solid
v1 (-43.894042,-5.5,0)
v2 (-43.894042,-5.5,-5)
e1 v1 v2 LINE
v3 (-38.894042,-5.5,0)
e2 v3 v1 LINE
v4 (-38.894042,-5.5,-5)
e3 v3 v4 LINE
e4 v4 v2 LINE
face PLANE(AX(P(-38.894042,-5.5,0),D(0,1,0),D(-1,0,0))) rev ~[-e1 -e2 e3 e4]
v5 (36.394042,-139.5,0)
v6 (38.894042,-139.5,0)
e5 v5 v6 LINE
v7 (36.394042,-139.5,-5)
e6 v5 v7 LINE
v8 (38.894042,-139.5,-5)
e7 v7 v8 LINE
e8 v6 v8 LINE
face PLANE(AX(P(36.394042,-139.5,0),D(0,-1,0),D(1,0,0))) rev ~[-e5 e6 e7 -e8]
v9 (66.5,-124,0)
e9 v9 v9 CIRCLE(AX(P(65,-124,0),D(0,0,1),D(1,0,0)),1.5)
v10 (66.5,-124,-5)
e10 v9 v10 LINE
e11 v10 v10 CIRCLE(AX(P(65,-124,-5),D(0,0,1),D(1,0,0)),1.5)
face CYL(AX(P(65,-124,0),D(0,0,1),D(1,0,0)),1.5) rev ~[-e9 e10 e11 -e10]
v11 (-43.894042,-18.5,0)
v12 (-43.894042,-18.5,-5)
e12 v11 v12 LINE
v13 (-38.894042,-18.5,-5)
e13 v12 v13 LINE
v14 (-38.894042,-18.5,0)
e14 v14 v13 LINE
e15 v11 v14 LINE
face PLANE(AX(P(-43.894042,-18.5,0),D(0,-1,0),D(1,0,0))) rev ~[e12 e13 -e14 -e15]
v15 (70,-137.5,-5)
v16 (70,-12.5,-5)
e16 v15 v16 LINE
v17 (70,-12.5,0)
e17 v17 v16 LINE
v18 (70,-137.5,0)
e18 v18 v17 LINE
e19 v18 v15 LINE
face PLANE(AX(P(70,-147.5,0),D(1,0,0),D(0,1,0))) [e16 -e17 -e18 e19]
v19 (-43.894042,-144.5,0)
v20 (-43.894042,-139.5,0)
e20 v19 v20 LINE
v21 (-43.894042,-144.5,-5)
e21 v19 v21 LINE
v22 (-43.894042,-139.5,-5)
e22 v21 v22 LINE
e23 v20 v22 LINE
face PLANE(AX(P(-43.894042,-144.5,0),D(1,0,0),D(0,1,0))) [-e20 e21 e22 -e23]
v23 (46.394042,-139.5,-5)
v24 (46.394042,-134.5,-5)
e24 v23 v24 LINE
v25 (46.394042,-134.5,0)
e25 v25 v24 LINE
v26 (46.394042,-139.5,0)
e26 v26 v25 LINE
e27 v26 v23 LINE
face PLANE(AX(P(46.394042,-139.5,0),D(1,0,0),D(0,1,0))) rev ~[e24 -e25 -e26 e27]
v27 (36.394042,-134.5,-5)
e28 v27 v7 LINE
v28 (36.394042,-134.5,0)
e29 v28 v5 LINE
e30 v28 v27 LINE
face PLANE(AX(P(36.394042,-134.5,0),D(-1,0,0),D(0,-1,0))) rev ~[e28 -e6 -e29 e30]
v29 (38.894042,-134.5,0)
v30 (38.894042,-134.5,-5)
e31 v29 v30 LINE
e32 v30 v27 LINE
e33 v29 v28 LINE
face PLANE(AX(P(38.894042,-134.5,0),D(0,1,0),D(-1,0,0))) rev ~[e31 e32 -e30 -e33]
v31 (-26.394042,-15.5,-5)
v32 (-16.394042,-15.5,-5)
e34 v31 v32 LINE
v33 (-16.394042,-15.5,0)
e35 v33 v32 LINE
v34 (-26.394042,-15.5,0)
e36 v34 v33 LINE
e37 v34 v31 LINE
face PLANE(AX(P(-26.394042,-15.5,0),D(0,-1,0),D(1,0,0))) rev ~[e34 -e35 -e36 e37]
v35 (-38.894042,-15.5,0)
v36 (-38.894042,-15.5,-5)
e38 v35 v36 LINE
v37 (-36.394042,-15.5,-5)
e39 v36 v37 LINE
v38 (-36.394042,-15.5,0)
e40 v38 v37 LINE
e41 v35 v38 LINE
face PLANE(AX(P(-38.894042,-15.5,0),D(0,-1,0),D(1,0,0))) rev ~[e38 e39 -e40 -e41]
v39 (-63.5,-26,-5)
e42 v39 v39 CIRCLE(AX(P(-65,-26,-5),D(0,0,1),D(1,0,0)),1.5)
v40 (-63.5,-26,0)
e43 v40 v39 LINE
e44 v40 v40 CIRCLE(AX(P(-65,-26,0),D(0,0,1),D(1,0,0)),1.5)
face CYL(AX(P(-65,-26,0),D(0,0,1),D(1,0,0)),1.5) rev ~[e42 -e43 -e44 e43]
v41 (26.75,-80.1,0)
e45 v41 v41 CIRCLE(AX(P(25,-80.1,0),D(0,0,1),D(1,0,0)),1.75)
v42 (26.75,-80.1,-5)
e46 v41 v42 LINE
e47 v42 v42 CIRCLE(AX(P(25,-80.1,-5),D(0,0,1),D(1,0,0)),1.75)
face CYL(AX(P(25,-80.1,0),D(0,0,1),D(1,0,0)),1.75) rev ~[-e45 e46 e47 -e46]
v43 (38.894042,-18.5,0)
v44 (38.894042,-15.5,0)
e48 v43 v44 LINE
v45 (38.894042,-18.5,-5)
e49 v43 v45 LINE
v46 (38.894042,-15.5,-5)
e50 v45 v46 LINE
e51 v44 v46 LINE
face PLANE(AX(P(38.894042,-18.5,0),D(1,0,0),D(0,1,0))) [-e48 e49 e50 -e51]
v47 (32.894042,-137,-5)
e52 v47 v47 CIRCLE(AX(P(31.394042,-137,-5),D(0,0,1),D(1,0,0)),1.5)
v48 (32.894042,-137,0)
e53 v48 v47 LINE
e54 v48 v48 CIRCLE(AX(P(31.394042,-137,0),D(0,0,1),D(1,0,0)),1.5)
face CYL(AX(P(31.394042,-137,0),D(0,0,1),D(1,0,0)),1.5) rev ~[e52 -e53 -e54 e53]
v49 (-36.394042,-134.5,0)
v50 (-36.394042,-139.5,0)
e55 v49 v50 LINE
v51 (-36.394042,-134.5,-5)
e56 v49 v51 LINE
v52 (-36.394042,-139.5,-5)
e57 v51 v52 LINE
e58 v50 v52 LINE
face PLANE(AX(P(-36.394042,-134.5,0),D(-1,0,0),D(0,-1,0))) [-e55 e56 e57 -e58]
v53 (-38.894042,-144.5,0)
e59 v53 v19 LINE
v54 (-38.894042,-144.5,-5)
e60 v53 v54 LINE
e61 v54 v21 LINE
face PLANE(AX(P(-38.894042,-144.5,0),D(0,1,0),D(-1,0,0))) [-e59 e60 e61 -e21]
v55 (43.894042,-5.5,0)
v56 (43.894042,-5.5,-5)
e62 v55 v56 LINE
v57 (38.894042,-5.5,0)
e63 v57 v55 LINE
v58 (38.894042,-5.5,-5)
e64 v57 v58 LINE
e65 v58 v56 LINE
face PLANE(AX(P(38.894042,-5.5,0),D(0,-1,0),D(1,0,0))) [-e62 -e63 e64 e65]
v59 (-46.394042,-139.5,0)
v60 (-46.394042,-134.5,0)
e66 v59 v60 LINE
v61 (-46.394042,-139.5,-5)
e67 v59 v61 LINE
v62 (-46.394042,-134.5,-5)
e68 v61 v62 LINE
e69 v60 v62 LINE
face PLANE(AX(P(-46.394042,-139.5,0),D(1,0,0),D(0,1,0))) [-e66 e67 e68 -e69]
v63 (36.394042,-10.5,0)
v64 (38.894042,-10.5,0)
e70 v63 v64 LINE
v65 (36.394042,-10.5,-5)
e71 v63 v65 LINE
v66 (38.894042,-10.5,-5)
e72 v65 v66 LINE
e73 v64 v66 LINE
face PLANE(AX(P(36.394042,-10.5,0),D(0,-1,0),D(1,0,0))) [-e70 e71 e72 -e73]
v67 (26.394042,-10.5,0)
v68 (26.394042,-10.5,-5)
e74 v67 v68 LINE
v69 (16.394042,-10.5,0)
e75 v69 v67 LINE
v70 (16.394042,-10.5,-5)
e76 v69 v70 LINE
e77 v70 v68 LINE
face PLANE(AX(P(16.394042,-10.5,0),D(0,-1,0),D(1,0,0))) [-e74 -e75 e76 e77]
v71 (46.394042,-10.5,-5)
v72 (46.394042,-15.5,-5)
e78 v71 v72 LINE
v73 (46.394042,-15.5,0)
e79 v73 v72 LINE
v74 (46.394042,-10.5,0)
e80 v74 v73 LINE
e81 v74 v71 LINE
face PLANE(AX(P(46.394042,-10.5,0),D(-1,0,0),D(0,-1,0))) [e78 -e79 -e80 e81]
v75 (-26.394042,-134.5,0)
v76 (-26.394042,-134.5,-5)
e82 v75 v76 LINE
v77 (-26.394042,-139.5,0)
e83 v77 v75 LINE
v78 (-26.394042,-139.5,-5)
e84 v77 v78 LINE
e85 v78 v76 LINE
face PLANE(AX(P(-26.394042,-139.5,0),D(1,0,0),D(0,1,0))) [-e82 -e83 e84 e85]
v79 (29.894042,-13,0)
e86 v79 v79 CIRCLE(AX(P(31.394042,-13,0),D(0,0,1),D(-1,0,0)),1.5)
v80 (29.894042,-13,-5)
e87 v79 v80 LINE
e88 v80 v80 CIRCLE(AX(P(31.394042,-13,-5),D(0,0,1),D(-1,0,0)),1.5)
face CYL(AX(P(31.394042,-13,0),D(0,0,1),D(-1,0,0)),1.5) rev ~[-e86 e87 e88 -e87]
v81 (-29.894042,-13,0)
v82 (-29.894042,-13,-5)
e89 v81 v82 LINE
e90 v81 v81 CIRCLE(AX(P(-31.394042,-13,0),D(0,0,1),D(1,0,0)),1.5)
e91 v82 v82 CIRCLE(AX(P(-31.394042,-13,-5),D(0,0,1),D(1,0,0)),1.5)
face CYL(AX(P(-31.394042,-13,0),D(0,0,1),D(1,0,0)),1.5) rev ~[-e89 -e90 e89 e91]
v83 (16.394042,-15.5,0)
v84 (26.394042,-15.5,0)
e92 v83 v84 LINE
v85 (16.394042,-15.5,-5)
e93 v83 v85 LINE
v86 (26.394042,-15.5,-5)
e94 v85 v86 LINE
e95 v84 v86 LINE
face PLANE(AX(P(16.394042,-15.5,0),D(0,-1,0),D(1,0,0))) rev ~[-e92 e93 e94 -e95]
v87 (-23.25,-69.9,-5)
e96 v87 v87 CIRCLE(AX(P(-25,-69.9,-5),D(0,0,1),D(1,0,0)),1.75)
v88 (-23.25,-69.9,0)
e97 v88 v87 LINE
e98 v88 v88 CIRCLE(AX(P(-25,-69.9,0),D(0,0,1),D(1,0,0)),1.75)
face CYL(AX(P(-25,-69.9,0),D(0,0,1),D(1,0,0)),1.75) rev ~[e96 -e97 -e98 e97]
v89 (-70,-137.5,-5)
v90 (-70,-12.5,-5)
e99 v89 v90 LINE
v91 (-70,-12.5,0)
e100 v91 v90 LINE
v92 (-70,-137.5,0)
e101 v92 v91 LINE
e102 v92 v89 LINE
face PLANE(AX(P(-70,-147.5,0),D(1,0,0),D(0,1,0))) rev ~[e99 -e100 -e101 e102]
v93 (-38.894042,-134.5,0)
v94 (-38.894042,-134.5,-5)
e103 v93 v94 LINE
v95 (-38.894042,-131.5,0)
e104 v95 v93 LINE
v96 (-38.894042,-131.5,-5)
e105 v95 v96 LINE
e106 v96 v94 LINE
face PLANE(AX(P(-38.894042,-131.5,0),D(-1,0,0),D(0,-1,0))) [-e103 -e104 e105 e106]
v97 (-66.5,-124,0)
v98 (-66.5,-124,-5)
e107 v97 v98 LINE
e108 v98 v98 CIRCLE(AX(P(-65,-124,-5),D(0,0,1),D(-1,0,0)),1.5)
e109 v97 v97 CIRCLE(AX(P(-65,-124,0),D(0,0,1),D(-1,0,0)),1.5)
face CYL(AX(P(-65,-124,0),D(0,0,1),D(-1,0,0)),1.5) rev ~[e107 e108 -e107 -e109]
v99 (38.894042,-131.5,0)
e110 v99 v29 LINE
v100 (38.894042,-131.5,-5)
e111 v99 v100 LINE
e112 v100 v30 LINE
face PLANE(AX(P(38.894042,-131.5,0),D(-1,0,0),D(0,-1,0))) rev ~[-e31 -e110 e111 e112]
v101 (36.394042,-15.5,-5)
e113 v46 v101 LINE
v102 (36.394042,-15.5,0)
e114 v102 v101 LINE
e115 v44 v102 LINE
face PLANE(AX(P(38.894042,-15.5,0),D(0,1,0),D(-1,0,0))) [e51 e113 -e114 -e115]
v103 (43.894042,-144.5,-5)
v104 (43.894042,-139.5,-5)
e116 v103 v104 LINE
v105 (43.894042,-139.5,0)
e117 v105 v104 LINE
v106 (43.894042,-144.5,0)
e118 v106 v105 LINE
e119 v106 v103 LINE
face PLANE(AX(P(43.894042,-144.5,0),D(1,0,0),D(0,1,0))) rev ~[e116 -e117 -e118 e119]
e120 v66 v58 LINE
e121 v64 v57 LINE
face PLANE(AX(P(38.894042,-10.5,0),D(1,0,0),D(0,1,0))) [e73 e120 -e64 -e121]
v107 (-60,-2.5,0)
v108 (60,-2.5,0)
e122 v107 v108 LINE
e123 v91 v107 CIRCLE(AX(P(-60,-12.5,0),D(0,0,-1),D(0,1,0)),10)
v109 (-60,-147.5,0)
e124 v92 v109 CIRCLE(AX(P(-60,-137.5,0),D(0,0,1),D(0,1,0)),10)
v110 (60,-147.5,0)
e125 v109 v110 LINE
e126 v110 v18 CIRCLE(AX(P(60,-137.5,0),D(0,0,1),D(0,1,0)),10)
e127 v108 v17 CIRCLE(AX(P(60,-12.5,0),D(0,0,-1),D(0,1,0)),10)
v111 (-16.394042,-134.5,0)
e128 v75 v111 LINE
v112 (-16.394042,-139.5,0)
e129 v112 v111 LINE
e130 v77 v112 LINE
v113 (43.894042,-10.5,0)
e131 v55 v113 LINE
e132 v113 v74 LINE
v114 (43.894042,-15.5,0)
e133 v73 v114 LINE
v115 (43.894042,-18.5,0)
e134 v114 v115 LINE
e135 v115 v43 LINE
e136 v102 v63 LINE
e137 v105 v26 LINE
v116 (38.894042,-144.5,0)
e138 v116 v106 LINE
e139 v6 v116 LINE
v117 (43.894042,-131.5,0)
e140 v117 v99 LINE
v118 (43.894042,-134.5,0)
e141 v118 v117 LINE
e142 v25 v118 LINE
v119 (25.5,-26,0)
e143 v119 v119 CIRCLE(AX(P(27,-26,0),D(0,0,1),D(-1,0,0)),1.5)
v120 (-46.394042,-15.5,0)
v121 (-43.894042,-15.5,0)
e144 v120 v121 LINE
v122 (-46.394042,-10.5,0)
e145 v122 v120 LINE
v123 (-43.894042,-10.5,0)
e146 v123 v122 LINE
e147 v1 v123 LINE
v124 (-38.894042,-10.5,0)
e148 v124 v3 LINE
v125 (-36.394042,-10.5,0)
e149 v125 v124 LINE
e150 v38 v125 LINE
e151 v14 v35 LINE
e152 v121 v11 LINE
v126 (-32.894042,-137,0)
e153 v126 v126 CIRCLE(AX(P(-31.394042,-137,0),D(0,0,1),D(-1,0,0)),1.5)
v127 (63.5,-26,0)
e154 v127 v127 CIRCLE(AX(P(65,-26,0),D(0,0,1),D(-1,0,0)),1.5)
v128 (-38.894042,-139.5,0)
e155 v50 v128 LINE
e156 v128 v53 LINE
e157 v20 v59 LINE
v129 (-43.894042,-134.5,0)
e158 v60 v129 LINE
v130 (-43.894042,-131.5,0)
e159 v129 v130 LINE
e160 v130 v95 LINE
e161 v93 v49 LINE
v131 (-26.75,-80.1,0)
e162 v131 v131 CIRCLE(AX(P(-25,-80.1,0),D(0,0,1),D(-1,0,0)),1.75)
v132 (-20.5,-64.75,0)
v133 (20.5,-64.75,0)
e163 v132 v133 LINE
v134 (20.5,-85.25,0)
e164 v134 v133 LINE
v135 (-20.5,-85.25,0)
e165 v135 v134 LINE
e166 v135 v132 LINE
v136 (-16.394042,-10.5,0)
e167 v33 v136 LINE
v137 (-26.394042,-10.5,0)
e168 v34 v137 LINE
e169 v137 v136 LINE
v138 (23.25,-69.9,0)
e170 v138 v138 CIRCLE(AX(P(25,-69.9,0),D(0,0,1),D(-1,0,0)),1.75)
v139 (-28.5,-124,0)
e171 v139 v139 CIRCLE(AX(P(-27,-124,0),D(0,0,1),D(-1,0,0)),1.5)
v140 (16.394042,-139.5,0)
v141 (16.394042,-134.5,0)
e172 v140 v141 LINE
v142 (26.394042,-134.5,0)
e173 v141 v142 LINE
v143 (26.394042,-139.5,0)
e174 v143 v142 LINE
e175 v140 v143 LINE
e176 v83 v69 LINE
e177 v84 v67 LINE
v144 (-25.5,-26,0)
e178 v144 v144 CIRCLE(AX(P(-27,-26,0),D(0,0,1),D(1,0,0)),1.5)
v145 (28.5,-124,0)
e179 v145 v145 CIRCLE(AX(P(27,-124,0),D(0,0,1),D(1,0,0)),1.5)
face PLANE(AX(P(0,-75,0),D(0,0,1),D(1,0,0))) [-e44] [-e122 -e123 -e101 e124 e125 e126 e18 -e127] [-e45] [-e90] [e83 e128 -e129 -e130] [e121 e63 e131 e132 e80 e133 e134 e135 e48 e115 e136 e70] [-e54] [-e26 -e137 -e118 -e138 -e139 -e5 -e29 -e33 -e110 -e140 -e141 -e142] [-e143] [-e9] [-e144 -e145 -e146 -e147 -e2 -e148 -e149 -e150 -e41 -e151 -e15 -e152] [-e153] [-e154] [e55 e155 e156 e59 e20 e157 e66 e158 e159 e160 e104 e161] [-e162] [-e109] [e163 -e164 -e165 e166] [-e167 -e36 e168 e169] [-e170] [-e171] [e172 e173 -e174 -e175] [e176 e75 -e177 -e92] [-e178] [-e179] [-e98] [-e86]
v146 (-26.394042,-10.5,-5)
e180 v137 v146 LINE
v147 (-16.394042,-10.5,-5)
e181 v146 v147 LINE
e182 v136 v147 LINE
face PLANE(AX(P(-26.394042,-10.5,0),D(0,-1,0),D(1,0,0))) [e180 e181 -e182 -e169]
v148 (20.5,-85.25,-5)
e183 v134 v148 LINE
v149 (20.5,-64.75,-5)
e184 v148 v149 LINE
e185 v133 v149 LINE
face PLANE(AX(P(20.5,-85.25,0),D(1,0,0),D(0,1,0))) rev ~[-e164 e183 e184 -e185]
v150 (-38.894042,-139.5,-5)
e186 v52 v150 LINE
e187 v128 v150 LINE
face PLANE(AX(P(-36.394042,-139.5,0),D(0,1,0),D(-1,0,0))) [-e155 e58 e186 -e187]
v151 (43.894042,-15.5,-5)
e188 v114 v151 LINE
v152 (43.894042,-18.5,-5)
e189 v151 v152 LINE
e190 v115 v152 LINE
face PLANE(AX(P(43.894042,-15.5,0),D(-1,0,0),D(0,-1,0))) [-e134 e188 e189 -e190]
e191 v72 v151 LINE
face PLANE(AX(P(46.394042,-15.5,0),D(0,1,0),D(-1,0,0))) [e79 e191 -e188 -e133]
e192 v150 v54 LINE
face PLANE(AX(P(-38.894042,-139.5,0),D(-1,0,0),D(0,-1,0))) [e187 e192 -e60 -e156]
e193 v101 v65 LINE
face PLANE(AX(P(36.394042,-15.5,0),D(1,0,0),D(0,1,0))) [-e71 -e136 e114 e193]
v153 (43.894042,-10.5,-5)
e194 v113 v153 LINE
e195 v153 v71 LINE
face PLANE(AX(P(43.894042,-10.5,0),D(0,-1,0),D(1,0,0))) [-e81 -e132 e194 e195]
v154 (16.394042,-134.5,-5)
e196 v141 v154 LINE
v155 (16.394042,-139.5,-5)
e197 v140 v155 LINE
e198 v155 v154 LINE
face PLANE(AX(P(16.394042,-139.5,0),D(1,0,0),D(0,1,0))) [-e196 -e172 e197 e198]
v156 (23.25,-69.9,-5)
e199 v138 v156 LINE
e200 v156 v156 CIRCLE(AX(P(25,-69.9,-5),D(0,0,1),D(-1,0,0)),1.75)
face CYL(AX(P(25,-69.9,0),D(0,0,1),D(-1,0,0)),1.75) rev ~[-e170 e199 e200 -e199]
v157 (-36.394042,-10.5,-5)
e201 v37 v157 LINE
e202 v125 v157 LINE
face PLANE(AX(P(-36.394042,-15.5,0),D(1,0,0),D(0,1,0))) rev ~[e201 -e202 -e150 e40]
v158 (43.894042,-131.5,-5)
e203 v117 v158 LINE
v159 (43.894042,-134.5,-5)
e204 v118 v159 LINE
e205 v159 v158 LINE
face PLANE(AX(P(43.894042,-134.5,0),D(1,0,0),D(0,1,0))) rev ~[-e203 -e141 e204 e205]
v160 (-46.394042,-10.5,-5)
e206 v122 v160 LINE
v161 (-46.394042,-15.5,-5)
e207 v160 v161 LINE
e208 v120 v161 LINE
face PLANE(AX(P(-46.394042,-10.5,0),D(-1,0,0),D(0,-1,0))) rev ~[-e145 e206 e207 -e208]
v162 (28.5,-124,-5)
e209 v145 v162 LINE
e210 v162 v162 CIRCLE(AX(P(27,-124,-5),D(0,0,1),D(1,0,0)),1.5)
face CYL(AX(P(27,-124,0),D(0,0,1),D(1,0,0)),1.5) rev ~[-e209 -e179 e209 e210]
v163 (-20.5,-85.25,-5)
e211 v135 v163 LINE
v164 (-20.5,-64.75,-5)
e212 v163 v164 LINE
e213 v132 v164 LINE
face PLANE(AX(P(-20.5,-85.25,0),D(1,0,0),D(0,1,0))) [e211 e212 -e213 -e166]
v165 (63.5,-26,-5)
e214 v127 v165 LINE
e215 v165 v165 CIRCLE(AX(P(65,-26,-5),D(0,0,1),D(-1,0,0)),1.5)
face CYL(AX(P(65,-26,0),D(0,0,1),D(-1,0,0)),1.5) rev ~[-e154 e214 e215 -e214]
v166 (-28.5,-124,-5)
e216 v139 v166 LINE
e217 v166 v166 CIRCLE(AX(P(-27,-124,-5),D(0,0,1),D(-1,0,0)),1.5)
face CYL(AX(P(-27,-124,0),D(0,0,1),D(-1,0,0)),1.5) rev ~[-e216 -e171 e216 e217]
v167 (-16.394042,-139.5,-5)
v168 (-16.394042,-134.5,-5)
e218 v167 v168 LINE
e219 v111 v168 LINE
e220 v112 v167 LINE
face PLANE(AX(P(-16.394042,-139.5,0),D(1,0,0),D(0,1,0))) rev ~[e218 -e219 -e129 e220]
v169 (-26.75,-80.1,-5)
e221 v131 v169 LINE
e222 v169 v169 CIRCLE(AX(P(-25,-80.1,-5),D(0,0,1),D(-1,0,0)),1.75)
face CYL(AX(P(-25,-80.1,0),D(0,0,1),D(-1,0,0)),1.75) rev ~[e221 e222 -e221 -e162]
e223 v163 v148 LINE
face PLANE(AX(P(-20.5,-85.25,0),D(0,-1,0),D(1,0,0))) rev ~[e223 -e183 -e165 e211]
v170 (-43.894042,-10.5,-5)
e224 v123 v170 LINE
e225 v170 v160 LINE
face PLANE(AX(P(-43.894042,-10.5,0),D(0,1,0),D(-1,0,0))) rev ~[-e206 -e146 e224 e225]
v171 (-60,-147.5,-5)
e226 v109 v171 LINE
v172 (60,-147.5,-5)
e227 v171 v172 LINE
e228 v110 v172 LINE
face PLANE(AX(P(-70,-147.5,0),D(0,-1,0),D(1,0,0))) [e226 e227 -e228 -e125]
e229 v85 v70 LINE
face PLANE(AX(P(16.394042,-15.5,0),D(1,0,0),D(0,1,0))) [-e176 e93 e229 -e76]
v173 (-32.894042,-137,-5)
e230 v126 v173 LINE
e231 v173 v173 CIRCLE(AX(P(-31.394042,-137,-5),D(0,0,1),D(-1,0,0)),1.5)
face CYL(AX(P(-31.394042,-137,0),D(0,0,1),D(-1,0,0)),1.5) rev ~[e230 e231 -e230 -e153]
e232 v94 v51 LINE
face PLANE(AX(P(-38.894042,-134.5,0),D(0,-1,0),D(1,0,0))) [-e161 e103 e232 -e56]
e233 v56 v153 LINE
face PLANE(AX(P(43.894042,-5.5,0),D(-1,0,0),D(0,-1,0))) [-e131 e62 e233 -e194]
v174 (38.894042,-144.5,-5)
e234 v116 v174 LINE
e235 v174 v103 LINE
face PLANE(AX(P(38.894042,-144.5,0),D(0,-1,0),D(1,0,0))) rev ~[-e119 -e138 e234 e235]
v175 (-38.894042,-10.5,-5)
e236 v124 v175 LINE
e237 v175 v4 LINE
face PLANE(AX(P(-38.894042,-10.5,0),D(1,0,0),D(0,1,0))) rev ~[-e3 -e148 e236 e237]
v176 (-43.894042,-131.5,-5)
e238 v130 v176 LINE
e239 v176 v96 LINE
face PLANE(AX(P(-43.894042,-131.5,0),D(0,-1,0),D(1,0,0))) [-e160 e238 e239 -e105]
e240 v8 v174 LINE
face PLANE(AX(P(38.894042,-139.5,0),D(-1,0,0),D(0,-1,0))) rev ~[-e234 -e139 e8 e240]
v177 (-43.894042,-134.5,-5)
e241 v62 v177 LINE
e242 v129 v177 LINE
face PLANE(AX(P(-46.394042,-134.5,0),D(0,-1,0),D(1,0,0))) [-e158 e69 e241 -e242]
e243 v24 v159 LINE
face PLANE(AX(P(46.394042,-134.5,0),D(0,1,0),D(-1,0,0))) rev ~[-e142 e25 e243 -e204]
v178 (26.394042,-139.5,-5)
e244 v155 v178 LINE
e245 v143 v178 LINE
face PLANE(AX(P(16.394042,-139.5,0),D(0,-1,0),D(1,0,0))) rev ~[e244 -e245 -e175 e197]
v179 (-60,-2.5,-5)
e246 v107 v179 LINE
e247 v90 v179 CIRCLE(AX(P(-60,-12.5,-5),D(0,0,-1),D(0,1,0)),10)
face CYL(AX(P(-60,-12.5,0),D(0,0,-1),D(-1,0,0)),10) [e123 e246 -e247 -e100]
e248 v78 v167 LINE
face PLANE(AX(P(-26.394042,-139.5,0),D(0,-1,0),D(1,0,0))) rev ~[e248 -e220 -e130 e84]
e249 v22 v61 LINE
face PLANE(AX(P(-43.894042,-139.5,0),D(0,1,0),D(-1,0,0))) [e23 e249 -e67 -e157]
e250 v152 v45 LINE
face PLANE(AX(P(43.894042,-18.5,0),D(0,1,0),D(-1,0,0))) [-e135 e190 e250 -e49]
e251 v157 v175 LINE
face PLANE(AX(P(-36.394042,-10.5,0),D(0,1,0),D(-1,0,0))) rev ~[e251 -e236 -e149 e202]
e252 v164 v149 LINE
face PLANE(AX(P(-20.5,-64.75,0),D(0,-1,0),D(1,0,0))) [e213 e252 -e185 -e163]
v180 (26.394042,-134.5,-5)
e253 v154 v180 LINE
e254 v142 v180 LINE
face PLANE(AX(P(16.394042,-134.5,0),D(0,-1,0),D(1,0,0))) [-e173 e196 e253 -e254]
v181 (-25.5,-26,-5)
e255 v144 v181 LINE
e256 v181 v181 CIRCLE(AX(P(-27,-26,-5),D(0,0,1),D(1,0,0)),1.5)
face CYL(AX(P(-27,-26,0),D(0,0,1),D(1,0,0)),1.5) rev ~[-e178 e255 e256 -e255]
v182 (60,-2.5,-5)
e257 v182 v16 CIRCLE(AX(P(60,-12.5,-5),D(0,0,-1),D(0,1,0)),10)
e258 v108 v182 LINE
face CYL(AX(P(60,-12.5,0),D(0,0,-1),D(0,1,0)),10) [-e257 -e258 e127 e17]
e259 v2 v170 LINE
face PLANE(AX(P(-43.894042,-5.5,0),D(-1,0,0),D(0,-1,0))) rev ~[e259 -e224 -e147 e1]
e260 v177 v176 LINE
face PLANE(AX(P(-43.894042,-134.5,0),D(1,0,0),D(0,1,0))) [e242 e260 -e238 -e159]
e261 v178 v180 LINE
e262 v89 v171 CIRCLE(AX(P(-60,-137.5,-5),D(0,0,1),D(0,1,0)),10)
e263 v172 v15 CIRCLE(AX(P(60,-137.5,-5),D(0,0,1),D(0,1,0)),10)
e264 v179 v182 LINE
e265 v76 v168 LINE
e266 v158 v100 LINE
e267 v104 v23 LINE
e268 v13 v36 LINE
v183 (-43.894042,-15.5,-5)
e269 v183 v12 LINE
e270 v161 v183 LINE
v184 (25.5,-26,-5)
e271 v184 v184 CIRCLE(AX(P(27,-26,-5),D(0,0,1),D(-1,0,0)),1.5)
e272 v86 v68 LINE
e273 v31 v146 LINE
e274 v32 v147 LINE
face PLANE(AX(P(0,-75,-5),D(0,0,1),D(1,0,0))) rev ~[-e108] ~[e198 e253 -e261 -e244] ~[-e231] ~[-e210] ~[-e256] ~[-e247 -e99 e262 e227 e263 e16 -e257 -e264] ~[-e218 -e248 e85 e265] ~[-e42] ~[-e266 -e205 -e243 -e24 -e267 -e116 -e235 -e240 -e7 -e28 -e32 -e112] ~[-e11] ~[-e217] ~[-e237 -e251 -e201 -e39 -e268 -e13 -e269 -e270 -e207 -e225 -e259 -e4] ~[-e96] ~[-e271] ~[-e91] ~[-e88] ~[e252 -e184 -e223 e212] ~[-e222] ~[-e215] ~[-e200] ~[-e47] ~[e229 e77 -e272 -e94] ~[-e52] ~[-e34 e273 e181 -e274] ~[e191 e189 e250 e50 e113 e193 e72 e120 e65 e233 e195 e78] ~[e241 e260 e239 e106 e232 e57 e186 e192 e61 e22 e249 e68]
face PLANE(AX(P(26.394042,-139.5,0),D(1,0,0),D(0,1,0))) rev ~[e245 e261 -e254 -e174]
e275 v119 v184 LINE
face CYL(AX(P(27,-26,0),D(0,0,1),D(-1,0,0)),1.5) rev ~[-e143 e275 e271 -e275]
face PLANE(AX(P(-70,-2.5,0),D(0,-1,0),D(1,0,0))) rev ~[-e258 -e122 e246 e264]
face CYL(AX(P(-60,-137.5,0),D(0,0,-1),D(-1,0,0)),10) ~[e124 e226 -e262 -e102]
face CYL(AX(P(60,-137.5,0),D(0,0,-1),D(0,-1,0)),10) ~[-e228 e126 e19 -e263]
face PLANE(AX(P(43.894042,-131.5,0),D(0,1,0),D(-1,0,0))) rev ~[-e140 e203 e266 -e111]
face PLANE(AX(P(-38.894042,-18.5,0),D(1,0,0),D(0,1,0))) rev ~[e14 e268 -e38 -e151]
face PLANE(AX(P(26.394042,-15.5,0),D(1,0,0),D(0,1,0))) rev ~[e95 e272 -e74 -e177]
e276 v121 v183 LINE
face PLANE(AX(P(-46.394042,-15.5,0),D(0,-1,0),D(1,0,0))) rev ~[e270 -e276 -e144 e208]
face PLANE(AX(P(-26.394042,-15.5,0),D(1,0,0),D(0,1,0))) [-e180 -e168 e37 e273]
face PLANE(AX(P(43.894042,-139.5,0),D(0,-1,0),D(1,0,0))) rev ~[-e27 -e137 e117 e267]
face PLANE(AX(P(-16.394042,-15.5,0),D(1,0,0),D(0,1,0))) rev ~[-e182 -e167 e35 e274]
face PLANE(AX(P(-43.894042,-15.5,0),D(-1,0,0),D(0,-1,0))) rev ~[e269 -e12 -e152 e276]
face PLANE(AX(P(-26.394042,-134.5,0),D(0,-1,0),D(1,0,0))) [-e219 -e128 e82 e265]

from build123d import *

# Parameters (mm, degrees)
SKETCH1_W           = 140
SKETCH1_H           = 145
BOSS_EXTRUDE1_DEPTH = 5
SKETCH2_W           = 10
SKETCH2_H           = 5
CUT_EXTRUDE1_DEPTH  = 164.343962239
SKETCH3_R           = 1.5
CUT_EXTRUDE2_DEPTH  = 5
SKETCH4_R           = 1.5
CUT_EXTRUDE3_DEPTH  = 164.343962239
SKETCH5_R           = 1.75
SKETCH5_W           = 41
SKETCH5_H           = 20.5
CUT_EXTRUDE4_DEPTH  = 164.343962239
FILLET1_R           = 10


with BuildPart() as part:
    # Sketch1 → Boss-Extrude1 (new body)
    with BuildSketch(Plane.XY):
        with Locations((0, -75)):
            Rectangle(SKETCH1_W, SKETCH1_H)
    extrude(amount=-BOSS_EXTRUDE1_DEPTH)

    # Sketch2 → Cut-Extrude1 (cut, through all)
    with BuildSketch(Plane.XY):
        Polygon((43.894042166, -134.5), (43.894042166, -131.5), (38.894042166, -131.5), (38.894042166, -134.5), (36.394042166, -134.5), (36.394042166, -139.5), (38.894042166, -139.5), (38.894042166, -144.5), (43.894042166, -144.5), (43.894042166, -139.5), (46.394042166, -139.5), (46.394042166, -134.5), align=None)
        with Locations((21.394042166, -137)):
            Rectangle(SKETCH2_W, SKETCH2_H)
        with Locations((-21.394042166, -137)):
            Rectangle(SKETCH2_W, SKETCH2_H)
        Polygon((-46.394042166, -134.5), (-43.894042166, -134.5), (-43.894042166, -131.5), (-38.894042166, -131.5), (-38.894042166, -134.5), (-36.394042166, -134.5), (-36.394042166, -139.5), (-38.894042166, -139.5), (-38.894042166, -144.5), (-43.894042166, -144.5), (-43.894042166, -139.5), (-46.394042166, -139.5), align=None)
        Polygon((-43.894042166, -15.5), (-43.894042166, -18.5), (-38.894042166, -18.5), (-38.894042166, -15.5), (-36.394042166, -15.5), (-36.394042166, -10.5), (-38.894042166, -10.5), (-38.894042166, -5.5), (-43.894042166, -5.5), (-43.894042166, -10.5), (-46.394042166, -10.5), (-46.394042166, -15.5), align=None)
        with Locations((-21.394042166, -13)):
            Rectangle(SKETCH2_W, SKETCH2_H)
        with Locations((21.394042166, -13)):
            Rectangle(SKETCH2_W, SKETCH2_H)
        Polygon((46.394042166, -15.5), (43.894042166, -15.5), (43.894042166, -18.5), (38.894042166, -18.5), (38.894042166, -15.5), (36.394042166, -15.5), (36.394042166, -10.5), (38.894042166, -10.5), (38.894042166, -5.5), (43.894042166, -5.5), (43.894042166, -10.5), (46.394042166, -10.5), align=None)
    extrude(amount=-CUT_EXTRUDE1_DEPTH, mode=Mode.SUBTRACT)

    # Sketch3 → Cut-Extrude2 (cut)
    with BuildSketch(Plane.XY):
        with Locations((31.394042166, -137)):
            Circle(SKETCH3_R)
        with Locations(Location((-31.394042166, -137, 0), (0, 0, 180))):
            Circle(SKETCH3_R)
        with Locations(Location((31.394042166, -13, 0), (0, 0, 180))):
            Circle(SKETCH3_R)
        with Locations((-31.394042166, -13)):
            Circle(SKETCH3_R)
    extrude(amount=-CUT_EXTRUDE2_DEPTH, mode=Mode.SUBTRACT)

    # Sketch4 → Cut-Extrude3 (cut, through all)
    with BuildSketch(Plane.XY):
        with Locations((65, -124)):
            Circle(SKETCH4_R)
        with Locations((27, -124)):
            Circle(SKETCH4_R)
        with Locations(Location((27, -26, 0), (0, 0, 180))):
            Circle(SKETCH4_R)
        with Locations(Location((65, -26, 0), (0, 0, 180))):
            Circle(SKETCH4_R)
        with Locations((-27, -26)):
            Circle(SKETCH4_R)
        with Locations((-65, -26)):
            Circle(SKETCH4_R)
        with Locations(Location((-65, -124, 0), (0, 0, 180))):
            Circle(SKETCH4_R)
        with Locations(Location((-27, -124, 0), (0, 0, 180))):
            Circle(SKETCH4_R)
    extrude(amount=-CUT_EXTRUDE3_DEPTH, mode=Mode.SUBTRACT)

    # Sketch5 → Cut-Extrude4 (cut, through all)
    with BuildSketch(Plane.XY):
        with Locations((25, -80.1)):
            Circle(SKETCH5_R)
        with Locations(Location((25, -69.9, 0), (0, 0, 180))):
            Circle(SKETCH5_R)
        with Locations(Location((-25, -80.1, 0), (0, 0, 180))):
            Circle(SKETCH5_R)
        with Locations((-25, -69.9)):
            Circle(SKETCH5_R)
        with Locations((0, -75)):
            Rectangle(SKETCH5_W, SKETCH5_H)
    extrude(amount=-CUT_EXTRUDE4_DEPTH, mode=Mode.SUBTRACT)

    # Fillet1
    fillet1_edges = [part.edges().sort_by_distance(p)[0] for p in [
        (70, -147.5, -2.5),
        (-70, -147.5, -2.5),
        (-70, -2.5, -2.5),
        (70, -2.5, -2.5),
    ]]
    fillet(fillet1_edges, radius=FILLET1_R)


solid = part.part
